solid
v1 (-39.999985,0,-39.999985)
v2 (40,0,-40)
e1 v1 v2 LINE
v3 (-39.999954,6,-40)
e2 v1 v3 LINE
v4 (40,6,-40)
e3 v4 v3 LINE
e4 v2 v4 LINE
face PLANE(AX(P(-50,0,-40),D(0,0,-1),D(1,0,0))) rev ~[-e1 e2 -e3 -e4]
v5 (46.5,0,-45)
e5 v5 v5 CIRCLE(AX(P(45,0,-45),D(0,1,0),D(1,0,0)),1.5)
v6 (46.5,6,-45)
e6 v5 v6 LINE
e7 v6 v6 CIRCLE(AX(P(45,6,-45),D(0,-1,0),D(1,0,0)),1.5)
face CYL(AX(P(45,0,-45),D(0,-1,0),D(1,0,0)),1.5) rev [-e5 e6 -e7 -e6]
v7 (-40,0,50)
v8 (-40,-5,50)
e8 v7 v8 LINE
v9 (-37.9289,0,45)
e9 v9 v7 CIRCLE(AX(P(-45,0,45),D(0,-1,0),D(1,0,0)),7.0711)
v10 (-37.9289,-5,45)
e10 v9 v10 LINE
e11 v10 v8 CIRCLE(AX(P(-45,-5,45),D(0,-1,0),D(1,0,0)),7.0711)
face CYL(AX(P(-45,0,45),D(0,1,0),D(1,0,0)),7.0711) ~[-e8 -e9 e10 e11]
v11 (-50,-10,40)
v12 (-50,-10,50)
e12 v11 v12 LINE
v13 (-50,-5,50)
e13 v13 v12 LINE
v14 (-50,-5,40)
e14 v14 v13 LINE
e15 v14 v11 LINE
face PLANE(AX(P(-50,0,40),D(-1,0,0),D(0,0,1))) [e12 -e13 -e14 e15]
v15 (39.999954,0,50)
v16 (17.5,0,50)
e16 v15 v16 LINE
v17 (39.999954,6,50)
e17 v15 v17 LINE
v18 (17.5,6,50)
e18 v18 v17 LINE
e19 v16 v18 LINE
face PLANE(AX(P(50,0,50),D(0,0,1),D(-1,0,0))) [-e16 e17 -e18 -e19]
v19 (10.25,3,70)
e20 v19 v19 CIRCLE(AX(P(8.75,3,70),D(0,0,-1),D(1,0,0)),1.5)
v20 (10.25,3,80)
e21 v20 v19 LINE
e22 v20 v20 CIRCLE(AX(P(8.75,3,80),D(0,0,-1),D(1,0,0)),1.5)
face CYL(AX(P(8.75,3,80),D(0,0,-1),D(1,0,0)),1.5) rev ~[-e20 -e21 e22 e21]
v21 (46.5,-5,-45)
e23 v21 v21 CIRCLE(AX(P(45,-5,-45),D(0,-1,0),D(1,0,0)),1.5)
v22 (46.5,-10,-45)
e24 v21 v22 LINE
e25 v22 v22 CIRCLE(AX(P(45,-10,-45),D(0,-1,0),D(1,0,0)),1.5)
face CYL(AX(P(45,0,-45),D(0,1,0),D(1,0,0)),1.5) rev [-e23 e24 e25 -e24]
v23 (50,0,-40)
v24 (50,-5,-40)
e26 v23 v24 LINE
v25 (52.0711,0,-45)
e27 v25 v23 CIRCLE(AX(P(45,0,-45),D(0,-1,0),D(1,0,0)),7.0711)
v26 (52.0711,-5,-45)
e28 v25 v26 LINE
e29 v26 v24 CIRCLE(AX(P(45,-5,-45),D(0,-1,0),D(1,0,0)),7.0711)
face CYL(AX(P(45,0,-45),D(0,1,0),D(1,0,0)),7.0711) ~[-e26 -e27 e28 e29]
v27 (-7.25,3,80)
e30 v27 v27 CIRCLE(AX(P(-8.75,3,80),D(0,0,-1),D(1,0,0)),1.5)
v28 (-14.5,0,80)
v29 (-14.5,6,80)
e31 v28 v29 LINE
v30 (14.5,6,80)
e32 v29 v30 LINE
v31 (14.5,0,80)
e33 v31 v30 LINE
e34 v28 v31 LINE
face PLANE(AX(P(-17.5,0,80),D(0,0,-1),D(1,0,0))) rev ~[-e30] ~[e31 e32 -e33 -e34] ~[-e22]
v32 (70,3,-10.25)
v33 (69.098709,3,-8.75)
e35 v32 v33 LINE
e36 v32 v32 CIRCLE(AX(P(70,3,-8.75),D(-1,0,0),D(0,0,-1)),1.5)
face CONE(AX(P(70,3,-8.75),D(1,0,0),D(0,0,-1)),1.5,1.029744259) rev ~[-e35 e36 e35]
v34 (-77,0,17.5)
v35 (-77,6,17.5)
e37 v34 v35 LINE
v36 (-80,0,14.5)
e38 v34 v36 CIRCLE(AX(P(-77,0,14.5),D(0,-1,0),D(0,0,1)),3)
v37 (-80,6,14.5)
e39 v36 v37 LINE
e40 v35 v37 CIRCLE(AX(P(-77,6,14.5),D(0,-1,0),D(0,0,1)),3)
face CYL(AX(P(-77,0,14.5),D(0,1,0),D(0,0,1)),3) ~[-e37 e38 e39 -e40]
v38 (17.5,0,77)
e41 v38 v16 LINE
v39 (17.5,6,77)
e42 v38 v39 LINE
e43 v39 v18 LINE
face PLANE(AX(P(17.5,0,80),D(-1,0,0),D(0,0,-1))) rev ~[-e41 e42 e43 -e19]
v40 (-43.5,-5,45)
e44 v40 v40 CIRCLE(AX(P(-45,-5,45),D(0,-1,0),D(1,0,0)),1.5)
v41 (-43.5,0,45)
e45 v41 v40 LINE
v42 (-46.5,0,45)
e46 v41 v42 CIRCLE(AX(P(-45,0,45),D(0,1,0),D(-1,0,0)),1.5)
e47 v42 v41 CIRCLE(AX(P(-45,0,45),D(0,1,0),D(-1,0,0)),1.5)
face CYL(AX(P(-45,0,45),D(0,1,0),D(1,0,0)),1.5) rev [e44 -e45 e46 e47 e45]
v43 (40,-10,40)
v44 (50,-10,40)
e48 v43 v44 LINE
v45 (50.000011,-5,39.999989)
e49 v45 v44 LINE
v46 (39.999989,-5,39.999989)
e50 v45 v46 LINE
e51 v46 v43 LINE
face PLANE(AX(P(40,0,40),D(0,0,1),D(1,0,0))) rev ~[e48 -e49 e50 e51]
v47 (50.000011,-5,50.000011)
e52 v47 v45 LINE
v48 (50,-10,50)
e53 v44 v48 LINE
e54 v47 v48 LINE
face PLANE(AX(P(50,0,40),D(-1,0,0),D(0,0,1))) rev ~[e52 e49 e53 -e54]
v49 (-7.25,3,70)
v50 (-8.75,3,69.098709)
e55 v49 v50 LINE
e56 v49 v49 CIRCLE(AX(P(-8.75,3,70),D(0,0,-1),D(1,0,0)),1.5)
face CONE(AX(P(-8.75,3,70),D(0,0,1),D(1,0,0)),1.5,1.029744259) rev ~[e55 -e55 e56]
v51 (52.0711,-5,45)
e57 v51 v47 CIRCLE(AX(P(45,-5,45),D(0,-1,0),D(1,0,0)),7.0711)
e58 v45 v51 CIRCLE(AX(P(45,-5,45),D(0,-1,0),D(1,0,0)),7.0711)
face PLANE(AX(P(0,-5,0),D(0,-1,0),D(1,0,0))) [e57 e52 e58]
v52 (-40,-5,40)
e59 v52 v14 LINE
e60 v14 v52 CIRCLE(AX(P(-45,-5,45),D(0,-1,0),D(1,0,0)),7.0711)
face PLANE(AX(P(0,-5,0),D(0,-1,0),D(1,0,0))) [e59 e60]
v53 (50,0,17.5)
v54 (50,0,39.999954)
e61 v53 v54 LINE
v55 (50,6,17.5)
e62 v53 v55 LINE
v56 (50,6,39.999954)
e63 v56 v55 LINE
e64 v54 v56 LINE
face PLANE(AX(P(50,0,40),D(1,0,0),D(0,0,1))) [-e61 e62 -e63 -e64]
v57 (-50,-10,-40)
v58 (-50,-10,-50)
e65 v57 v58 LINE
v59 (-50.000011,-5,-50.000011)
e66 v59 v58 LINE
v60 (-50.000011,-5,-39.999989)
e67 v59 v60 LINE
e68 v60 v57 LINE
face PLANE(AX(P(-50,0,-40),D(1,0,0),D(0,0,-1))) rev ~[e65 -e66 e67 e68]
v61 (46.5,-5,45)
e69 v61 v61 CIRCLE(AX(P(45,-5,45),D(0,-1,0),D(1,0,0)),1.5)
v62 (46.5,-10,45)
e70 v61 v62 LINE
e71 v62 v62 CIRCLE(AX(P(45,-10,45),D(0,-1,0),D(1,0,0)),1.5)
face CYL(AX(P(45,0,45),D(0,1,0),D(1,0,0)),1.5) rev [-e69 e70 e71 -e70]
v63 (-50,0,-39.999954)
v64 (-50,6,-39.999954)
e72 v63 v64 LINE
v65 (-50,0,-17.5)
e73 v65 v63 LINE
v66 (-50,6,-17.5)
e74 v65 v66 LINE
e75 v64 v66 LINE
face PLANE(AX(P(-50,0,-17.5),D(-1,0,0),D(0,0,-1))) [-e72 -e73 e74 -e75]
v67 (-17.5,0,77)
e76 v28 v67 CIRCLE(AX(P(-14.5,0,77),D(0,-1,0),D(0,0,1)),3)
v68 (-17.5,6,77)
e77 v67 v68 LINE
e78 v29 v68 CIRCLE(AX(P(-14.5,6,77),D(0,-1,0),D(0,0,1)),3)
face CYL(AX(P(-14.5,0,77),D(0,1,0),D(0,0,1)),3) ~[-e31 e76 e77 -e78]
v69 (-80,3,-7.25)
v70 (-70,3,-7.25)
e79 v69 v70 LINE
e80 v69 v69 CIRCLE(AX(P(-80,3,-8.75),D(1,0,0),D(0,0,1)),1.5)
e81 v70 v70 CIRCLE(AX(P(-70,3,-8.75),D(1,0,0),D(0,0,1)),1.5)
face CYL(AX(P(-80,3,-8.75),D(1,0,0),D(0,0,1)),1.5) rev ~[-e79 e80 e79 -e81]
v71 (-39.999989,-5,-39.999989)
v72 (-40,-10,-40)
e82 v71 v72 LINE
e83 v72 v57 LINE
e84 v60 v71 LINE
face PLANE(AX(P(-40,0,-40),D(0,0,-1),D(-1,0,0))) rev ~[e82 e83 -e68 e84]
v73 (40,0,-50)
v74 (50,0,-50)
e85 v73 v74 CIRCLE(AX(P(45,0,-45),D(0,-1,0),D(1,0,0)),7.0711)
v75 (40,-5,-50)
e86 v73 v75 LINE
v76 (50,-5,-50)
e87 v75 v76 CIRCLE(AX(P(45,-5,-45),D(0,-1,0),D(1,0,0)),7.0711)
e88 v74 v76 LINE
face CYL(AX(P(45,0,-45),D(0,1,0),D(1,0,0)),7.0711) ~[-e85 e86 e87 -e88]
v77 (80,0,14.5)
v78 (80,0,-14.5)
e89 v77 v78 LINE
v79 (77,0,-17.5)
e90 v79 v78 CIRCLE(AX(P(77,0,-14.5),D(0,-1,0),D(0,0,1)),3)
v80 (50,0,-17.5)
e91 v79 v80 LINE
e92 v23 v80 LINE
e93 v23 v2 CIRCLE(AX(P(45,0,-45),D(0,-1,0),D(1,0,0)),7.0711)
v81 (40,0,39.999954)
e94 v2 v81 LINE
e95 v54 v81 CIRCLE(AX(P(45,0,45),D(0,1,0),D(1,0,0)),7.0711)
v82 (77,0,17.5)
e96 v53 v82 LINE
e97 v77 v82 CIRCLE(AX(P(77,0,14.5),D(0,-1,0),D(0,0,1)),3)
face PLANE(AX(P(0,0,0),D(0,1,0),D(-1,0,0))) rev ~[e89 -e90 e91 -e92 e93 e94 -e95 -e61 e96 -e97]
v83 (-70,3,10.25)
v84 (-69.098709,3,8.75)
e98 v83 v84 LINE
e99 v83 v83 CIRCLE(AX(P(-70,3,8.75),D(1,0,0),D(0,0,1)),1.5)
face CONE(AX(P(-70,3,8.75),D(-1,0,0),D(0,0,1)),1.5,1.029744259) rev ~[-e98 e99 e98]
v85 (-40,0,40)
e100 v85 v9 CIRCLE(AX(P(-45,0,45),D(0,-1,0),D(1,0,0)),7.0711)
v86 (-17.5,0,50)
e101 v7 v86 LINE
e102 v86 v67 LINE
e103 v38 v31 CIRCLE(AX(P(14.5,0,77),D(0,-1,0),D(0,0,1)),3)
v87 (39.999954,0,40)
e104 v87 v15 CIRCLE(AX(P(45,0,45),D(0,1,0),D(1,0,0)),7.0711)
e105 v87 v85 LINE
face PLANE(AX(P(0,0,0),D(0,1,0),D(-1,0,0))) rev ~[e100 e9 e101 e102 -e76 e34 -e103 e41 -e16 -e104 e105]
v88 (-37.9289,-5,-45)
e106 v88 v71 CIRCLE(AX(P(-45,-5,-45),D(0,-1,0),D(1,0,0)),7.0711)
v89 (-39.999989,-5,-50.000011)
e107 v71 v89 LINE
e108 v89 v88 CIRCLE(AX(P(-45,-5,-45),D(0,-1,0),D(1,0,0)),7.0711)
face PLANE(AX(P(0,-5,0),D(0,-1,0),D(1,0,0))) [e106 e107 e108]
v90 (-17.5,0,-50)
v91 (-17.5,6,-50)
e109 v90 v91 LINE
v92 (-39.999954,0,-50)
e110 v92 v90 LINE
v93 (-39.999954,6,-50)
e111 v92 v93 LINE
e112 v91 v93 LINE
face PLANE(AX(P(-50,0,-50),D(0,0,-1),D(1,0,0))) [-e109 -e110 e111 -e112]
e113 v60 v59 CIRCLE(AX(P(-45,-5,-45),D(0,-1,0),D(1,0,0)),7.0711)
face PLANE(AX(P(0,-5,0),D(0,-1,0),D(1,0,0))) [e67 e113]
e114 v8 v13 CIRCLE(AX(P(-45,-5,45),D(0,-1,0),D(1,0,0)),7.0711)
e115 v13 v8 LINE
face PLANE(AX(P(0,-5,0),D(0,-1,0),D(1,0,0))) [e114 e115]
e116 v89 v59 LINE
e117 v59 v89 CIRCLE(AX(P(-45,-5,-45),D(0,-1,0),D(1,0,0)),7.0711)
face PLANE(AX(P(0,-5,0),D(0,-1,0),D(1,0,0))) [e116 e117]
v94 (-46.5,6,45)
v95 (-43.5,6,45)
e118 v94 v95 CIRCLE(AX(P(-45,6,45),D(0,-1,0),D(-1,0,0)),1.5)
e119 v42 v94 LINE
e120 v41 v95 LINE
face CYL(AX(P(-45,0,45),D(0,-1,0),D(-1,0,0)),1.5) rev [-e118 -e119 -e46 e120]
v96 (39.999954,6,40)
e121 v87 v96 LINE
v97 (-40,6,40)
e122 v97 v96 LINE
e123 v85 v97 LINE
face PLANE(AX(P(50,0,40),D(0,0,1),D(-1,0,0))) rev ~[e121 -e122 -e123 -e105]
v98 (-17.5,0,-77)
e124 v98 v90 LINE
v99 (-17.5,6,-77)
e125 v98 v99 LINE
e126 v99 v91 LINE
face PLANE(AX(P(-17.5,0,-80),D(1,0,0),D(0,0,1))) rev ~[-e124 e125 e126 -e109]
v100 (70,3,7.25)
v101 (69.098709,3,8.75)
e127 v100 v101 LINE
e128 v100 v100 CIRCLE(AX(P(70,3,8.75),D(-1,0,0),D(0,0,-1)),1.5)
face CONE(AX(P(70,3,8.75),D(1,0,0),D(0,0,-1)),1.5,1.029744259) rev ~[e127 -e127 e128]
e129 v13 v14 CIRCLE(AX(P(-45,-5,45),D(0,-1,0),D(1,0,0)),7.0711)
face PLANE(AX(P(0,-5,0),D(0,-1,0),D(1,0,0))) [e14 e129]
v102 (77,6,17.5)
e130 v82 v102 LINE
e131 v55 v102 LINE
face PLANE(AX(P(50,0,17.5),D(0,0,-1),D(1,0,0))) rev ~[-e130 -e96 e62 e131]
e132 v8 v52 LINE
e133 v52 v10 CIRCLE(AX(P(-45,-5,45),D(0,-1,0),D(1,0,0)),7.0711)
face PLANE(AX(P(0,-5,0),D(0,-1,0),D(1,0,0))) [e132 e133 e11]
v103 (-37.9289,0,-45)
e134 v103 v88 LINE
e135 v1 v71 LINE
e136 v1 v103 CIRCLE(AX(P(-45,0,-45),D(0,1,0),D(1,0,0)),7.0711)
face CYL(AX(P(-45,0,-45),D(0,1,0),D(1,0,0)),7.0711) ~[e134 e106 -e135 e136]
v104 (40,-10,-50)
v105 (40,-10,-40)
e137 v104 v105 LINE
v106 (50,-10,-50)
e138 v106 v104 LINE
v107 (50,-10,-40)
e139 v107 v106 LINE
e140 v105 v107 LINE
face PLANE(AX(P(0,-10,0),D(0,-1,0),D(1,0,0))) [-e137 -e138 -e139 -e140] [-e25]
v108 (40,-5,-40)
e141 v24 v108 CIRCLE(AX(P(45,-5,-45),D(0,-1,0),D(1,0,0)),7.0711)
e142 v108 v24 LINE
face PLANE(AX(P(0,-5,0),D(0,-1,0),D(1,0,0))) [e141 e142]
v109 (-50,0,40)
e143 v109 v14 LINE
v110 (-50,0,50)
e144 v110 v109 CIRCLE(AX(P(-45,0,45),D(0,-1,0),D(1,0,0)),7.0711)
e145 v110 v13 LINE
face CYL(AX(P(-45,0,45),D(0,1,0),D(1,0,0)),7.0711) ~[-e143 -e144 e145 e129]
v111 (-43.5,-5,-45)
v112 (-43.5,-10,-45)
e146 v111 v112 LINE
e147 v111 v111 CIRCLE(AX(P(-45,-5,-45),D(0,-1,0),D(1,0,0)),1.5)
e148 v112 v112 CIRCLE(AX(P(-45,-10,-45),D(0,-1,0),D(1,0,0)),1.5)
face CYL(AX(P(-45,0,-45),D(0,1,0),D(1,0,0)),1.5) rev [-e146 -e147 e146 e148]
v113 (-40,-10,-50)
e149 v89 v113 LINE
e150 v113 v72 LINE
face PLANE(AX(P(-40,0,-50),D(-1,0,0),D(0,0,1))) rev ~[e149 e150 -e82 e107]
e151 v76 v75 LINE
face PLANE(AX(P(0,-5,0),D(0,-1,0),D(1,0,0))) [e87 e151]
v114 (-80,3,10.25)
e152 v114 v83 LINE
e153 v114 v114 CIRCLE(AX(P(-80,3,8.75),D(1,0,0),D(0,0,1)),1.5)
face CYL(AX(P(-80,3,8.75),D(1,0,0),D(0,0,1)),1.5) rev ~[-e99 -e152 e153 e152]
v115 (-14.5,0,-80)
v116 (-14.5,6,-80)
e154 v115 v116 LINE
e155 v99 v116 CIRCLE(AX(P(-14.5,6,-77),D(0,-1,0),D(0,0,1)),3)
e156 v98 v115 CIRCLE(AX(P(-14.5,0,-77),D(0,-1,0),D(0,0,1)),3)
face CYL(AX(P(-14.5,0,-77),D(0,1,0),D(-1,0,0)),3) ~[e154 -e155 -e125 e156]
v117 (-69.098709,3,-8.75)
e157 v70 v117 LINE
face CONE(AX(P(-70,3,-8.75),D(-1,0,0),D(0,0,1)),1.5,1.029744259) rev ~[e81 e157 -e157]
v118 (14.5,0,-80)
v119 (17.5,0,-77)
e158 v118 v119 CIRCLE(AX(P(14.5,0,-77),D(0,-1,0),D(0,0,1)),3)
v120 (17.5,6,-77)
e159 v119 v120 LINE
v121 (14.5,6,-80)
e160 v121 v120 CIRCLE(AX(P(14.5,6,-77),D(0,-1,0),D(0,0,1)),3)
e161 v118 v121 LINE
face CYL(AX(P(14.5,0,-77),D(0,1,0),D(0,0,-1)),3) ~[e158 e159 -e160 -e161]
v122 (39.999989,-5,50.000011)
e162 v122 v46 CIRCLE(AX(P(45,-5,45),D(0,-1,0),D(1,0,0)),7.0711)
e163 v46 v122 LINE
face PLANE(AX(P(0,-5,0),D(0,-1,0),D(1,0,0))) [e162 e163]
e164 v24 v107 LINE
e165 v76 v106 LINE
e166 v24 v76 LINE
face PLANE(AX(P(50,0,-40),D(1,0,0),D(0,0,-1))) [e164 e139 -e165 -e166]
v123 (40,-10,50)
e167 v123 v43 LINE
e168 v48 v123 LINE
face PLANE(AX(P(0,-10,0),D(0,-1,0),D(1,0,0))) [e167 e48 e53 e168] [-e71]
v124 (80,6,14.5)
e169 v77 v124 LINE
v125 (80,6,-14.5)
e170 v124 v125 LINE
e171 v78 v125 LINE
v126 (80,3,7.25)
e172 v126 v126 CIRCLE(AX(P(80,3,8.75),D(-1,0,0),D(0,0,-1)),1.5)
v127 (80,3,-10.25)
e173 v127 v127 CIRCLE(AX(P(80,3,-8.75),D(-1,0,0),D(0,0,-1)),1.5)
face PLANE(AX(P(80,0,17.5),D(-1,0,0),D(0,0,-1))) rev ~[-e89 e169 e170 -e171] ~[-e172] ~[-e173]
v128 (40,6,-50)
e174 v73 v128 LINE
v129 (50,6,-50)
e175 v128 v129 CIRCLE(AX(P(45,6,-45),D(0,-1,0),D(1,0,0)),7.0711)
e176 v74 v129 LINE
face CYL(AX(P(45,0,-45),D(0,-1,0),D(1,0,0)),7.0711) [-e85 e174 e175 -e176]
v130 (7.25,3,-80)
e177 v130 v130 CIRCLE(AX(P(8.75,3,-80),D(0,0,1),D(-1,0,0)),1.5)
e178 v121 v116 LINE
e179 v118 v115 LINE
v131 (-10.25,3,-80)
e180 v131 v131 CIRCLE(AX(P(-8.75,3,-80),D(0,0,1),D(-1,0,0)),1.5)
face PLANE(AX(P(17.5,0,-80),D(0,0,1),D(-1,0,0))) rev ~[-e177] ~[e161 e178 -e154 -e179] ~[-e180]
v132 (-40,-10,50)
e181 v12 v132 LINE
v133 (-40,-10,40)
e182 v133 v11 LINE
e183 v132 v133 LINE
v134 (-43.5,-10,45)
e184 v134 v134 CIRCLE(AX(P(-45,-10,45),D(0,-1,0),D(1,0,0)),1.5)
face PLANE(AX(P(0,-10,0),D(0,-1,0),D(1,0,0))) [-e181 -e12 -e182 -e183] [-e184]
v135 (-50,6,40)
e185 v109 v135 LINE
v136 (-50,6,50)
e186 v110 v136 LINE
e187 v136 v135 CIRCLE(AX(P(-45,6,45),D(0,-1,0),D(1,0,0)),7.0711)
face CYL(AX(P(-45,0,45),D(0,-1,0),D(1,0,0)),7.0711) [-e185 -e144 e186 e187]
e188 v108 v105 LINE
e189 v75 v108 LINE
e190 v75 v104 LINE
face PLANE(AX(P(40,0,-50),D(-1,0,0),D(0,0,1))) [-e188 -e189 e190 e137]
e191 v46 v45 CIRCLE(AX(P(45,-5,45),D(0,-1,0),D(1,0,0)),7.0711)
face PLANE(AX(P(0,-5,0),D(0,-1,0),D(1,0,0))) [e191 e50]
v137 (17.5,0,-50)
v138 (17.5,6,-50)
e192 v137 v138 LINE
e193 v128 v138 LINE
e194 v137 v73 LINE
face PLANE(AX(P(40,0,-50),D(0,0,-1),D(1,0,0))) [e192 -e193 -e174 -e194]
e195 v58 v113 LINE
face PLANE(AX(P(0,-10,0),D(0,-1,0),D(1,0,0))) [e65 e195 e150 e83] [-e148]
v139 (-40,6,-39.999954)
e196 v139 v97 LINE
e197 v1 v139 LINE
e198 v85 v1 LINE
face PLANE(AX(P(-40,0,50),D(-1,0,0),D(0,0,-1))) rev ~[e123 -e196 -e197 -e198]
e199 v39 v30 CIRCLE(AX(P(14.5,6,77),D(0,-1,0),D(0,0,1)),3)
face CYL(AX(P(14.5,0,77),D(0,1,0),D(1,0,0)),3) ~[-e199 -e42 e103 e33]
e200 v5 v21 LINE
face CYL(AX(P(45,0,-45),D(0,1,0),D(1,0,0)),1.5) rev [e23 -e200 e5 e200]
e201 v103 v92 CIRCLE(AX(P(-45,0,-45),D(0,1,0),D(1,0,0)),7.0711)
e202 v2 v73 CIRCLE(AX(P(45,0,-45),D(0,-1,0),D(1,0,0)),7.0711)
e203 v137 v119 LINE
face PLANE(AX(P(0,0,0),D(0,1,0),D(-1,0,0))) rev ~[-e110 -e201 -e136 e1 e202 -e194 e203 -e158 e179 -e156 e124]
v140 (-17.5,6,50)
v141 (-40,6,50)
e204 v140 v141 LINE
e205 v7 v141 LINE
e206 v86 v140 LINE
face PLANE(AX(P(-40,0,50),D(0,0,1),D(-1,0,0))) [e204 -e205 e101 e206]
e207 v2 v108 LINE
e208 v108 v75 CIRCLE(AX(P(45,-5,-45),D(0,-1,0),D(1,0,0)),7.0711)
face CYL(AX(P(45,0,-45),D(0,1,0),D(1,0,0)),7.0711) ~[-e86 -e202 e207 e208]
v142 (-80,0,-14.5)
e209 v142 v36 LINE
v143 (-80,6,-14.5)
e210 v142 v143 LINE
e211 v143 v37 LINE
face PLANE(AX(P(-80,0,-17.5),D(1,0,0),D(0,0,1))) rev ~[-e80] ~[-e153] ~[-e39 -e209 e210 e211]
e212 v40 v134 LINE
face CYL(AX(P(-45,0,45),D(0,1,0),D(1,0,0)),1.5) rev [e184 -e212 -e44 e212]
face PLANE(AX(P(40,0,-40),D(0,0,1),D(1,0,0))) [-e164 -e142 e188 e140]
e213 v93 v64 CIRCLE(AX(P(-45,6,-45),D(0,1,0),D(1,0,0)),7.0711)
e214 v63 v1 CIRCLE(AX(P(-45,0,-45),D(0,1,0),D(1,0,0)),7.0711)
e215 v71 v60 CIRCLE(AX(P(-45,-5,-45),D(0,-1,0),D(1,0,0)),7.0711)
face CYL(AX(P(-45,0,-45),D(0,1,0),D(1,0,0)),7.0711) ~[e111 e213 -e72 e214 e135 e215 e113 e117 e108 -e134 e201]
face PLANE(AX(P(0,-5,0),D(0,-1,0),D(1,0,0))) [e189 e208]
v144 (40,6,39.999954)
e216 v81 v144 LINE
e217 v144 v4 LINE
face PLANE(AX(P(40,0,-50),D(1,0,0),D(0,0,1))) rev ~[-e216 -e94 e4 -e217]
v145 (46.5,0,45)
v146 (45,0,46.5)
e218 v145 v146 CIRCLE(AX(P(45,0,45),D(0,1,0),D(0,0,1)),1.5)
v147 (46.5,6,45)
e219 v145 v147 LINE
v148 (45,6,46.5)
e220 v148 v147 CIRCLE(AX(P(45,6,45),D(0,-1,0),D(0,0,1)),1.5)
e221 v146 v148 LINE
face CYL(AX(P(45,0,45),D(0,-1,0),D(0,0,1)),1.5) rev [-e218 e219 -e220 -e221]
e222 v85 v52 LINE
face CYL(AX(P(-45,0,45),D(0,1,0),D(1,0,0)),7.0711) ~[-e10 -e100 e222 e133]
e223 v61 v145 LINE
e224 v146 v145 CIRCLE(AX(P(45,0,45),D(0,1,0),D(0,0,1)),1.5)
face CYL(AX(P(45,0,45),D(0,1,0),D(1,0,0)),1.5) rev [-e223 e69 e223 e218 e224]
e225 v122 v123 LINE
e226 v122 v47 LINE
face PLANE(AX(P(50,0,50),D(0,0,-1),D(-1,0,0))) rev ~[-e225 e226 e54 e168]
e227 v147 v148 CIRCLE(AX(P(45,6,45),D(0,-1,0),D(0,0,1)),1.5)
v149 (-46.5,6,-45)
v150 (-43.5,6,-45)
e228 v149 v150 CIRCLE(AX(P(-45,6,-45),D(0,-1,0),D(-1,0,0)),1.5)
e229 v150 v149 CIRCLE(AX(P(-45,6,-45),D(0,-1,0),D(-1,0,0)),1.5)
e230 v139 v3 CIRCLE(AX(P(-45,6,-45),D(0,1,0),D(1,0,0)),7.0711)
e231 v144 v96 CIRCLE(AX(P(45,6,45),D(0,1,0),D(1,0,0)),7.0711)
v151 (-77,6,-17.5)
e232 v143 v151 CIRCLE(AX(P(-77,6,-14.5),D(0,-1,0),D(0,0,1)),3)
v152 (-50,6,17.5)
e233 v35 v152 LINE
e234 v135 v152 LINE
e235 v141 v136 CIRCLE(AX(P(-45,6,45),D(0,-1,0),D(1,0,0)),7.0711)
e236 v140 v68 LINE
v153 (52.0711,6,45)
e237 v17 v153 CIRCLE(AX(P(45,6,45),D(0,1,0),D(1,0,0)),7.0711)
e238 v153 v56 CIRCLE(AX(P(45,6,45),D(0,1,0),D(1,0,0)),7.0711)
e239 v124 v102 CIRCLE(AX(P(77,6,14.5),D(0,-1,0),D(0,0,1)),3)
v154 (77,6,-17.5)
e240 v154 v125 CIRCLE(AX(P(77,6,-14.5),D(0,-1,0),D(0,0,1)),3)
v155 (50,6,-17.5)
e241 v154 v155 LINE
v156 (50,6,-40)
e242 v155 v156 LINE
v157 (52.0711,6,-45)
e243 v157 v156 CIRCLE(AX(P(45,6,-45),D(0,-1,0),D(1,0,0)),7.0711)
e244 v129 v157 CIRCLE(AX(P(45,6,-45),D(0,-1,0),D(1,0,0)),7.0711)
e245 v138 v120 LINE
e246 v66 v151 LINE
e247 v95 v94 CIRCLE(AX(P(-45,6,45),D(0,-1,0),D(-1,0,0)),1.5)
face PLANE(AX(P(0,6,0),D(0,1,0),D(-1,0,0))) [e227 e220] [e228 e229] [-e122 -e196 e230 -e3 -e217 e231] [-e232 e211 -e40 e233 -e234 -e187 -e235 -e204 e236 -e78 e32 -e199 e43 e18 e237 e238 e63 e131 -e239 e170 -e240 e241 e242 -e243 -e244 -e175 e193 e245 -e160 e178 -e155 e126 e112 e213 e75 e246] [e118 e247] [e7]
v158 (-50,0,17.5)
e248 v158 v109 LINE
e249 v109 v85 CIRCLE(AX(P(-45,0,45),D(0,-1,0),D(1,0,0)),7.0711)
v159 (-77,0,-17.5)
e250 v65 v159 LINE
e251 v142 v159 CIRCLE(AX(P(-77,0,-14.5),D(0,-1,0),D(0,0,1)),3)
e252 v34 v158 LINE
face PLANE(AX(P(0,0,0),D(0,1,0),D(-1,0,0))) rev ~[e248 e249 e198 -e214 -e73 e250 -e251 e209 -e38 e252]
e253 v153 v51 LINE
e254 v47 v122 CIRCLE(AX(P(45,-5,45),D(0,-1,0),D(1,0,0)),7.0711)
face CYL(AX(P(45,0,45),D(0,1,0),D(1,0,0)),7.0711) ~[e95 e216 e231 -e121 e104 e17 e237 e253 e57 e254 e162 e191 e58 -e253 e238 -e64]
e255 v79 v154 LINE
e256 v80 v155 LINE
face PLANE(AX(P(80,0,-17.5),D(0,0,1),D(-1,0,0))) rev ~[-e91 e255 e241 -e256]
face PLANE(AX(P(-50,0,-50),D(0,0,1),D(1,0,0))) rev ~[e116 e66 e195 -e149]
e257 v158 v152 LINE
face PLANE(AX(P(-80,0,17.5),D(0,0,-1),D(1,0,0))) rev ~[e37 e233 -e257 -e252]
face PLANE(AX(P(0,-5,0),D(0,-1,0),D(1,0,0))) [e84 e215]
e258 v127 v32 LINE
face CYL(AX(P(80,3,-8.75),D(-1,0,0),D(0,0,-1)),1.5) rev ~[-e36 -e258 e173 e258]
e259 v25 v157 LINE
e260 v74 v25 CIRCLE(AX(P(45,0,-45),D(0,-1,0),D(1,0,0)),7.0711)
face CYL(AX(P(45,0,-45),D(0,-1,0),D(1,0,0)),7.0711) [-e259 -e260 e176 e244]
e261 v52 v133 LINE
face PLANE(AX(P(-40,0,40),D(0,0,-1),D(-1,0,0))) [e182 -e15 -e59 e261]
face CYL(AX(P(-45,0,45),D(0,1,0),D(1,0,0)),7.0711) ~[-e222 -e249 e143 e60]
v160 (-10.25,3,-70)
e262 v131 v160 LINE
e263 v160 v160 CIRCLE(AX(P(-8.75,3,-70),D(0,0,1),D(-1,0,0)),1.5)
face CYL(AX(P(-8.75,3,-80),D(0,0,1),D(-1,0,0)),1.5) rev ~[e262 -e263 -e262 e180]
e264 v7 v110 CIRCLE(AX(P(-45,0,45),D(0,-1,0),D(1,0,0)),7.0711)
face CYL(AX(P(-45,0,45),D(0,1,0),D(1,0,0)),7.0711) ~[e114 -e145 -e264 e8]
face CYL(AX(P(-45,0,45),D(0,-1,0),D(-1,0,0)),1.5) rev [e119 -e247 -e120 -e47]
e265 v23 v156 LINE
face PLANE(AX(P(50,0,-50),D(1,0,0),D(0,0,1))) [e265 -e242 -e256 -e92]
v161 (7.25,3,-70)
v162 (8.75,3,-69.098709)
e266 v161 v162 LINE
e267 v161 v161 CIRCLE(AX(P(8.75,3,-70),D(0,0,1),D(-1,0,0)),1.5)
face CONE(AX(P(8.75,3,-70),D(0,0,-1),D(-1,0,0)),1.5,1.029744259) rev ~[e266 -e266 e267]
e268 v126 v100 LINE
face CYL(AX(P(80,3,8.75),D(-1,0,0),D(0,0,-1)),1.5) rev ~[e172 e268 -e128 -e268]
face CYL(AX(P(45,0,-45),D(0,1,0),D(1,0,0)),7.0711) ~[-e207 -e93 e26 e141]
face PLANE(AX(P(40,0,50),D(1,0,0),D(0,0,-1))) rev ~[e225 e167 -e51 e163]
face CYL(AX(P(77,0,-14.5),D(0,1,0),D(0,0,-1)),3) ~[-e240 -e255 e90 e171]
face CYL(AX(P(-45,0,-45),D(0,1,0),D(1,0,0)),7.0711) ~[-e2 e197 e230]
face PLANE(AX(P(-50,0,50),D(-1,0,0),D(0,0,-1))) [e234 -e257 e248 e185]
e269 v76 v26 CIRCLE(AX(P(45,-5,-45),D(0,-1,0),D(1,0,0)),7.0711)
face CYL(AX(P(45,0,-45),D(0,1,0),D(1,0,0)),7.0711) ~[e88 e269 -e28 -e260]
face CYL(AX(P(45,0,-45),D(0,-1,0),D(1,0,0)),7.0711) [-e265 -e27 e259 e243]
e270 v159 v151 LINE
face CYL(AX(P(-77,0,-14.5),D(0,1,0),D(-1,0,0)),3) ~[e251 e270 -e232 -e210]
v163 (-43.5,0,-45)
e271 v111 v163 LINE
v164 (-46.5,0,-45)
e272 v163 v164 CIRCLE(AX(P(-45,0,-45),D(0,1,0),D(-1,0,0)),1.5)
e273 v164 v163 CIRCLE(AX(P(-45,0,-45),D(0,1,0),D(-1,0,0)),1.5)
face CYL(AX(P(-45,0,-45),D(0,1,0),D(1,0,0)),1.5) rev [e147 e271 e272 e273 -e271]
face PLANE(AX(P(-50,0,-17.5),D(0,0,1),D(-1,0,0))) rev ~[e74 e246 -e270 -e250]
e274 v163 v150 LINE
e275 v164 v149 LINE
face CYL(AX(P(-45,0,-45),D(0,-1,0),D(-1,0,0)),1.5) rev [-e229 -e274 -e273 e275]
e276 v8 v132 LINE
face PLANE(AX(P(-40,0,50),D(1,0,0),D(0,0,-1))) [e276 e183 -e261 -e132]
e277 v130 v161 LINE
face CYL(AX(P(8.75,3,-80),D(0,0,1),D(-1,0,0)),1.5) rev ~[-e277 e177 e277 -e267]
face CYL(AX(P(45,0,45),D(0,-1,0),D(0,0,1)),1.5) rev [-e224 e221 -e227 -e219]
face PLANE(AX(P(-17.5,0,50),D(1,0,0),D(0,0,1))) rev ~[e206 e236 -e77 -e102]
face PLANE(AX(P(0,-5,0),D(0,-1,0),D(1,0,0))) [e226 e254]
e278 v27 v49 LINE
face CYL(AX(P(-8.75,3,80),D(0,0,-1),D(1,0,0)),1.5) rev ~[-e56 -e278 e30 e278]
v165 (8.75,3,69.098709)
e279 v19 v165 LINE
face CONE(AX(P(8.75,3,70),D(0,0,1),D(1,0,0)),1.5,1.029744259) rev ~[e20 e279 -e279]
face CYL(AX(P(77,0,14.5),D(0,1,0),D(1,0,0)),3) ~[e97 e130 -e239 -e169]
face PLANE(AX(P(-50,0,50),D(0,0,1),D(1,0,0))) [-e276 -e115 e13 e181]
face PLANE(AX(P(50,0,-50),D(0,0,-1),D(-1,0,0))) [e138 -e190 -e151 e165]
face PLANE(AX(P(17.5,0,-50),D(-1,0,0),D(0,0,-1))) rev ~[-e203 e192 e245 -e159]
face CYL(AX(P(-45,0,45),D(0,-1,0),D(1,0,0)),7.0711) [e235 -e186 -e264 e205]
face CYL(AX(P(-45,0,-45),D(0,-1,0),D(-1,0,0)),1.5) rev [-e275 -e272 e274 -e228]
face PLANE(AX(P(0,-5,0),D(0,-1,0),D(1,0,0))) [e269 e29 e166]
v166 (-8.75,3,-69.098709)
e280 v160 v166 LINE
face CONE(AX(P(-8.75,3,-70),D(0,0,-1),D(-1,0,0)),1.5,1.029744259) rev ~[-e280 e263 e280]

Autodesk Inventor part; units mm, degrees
ref_plane "YZ Plane" through (0, 0, 0) normal (1, 0, 0) x (0, 1, 0)
ref_plane "XZ Plane" through (0, 0, 0) normal (0, 1, 0) x (-1, 0, 0)
ref_plane "XY Plane" through (0, 0, 0) normal (0, 0, 1) x (1, 0, 0)
sketch "Sketch1" plane through (0, 0, 0) normal (0, 1, 0) x (-1, 0, 0)
  line L0 (-36.5, 50) -> (-36.5, 45)
  circle A0 centre (45, 45) radius 1.5
  circle A1 centre (-45, -45) radius 1.5
  circle A2 centre (45, -45) radius 1.5
  circle A3 centre (-45, 45) radius 1.5
  line L1 (-50, 50) -> (50, 50)
  line L2 (-50, -50) -> (-50, 50)
  line L3 (50, -50) -> (-50, -50)
  line L4 (50, 50) -> (50, -50)
  line L5 (40, 45) -> (-40, 45)
  line L6 (40, 40) -> (40, 45)
  line L7 (45, 40) -> (40, 40)
  line L8 (45, -40) -> (45, 40)
  line L9 (40, -40) -> (45, -40)
  line L10 (40, -45) -> (40, -40)
  line L11 (-40, -45) -> (40, -45)
  line L12 (-40, -40) -> (-40, -45)
  line L13 (-45, -40) -> (-40, -40)
  line L14 (-45, 40) -> (-45, -40)
  line L15 (-40, 40) -> (-45, 40)
  line L16 (-40, 45) -> (-40, 40)
  line L17 (50, 50) -> (40, 50)
  line L18 (40, 50) -> (40, -50)
  line L19 (40, -50) -> (50, -50)
  line L20 (50, -50) -> (50, 50)
  line L21 (-82.5, 82.5) -> (-82.5, -82.5)
  line L22 (80, 17.5) -> (40, 17.5)
  line L23 (40, 17.5) -> (40, -17.5)
  line L24 (40, -17.5) -> (80, -17.5)
  line L25 (80, -17.5) -> (80, 17.5)
  point P0 (0, 0)
  point P1 (0, 0)
  point P2 (0, 0)
  point P3 (40, 0)
  point P4 (80, 0)
  dimension "d3" = 35
  dimension "d19" = 40
extrude "Extrusion1" add sketch "Sketch1" along normal blind 6 contours L1 L4 L22 L8 L7 L6 L18 | L7 L8 L22 L18 | L18 L10 L9 L8 L24 L4 L3 | L22 L25 L24 L4 | L4 L24 L8 L22 | L22 L8 L24 L18 | L24 L8 L9 L18
pattern_circular "Circular Pattern1" count 4 over 360 about axis through (0, -10, 0) along (0, 1, 0) of "Extrusion1"
sketch "Sketch2" plane through (80, 0, 17.5) normal (1, 0, 0) x (0, 0, -1)
  line L0 (0, 0) -> (35, 0) projected
  line L1 (35, 0) -> (35, 6) projected
  line L2 (0, 6) -> (35, 6) projected
  line L3 (0, 0) -> (0, 6) projected
  line L4 (0, 6) -> (0, 0) projected
  line L5 (0, 3) -> (35, 3)
  line L6 (17.5, 3) -> (35, 3)
  line L7 (17.5, 3) -> (0, 3)
  point P0 (17.5, 0)
  point P1 (8.75, 3)
  point P2 (26.25, 3)
hole "Hole1" at (80, 3, 8.75) at (80, 3, -8.75) direction (-1, 0, 0) diameter 3 depth 10 tip angle 118
pattern_circular "Circular Pattern2" count 4 over 360 about axis through (0, -10, 0) along (0, 1, 0) of "Hole1"
sketch "Sketch3" plane through (0, 0, 0) normal (0, -1, 0) x (1, 0, 0)
  line L0 (-50, -50) -> (-40, -50)
  line L1 (-40, -50) -> (-40, -40)
  line L2 (-40, -40) -> (-50, -40)
  line L3 (-50, -40) -> (-50, -50)
  line L4 (50, -50) -> (40, -50)
  line L5 (40, -50) -> (40, -40)
  line L6 (40, -40) -> (50, -40)
  line L7 (50, -40) -> (50, -50)
  line L8 (50, 50) -> (40, 50)
  line L9 (40, 50) -> (40, 40)
  line L10 (40, 40) -> (50, 40)
  line L11 (50, 40) -> (50, 50)
  line L12 (-50, 50) -> (-17.5, 50) projected
  line L13 (-50, 50) -> (-40, 50)
  line L14 (-40, 50) -> (-40, 40)
  line L15 (-40, 40) -> (-50, 40)
  line L16 (-50, 40) -> (-50, 50)
  circle A0 centre (-45, 45) radius 1.5 projected
  circle A1 centre (45, 45) radius 1.5 projected
  circle A2 centre (-45, -45) radius 1.5 projected
  circle A3 centre (45, -45) radius 1.5 projected
  circle A4 centre (45, 45) radius 7.0711
  line L17 (-40, 40) -> (-40, -40) projected
  circle A5 centre (-45, 45) radius 7.0711
  circle A6 centre (-45, -45) radius 7.0711
  line L18 (50, -50) -> (17.5, -50) projected
  circle A7 centre (45, -45) radius 7.0711
  point P0 (0, 0)
  dimension "d20" = 10
  dimension "d21" = 10
  dimension "d22" = 10
  dimension "d23" = 10
  dimension "d24" = 10
  dimension "d25" = 10
  dimension "d26" = 10
  dimension "d27" = 10
extrude "Extrusion2" add sketch "Sketch3" along normal blind 5 and the other way blind 6
fillet "Fillet4" radius 3 8 edges at (-17.5, 3, 80) (-80, 3, 17.5) (-80, 3, -17.5) (-17.5, 3, -80) (17.5, 3, -80) (80, 3, -17.5) (80, 3, 17.5) (17.5, 3, 80)
extrude "Extrusion3" add sketch "Sketch3" along normal blind 10 contours L3 L2 L1 L0 | L15 L16 L12 L14 | L4 L5 L6 L7 | L11 L10 L9 L8
properties part number "solar roof" material "ABS Plastic"
